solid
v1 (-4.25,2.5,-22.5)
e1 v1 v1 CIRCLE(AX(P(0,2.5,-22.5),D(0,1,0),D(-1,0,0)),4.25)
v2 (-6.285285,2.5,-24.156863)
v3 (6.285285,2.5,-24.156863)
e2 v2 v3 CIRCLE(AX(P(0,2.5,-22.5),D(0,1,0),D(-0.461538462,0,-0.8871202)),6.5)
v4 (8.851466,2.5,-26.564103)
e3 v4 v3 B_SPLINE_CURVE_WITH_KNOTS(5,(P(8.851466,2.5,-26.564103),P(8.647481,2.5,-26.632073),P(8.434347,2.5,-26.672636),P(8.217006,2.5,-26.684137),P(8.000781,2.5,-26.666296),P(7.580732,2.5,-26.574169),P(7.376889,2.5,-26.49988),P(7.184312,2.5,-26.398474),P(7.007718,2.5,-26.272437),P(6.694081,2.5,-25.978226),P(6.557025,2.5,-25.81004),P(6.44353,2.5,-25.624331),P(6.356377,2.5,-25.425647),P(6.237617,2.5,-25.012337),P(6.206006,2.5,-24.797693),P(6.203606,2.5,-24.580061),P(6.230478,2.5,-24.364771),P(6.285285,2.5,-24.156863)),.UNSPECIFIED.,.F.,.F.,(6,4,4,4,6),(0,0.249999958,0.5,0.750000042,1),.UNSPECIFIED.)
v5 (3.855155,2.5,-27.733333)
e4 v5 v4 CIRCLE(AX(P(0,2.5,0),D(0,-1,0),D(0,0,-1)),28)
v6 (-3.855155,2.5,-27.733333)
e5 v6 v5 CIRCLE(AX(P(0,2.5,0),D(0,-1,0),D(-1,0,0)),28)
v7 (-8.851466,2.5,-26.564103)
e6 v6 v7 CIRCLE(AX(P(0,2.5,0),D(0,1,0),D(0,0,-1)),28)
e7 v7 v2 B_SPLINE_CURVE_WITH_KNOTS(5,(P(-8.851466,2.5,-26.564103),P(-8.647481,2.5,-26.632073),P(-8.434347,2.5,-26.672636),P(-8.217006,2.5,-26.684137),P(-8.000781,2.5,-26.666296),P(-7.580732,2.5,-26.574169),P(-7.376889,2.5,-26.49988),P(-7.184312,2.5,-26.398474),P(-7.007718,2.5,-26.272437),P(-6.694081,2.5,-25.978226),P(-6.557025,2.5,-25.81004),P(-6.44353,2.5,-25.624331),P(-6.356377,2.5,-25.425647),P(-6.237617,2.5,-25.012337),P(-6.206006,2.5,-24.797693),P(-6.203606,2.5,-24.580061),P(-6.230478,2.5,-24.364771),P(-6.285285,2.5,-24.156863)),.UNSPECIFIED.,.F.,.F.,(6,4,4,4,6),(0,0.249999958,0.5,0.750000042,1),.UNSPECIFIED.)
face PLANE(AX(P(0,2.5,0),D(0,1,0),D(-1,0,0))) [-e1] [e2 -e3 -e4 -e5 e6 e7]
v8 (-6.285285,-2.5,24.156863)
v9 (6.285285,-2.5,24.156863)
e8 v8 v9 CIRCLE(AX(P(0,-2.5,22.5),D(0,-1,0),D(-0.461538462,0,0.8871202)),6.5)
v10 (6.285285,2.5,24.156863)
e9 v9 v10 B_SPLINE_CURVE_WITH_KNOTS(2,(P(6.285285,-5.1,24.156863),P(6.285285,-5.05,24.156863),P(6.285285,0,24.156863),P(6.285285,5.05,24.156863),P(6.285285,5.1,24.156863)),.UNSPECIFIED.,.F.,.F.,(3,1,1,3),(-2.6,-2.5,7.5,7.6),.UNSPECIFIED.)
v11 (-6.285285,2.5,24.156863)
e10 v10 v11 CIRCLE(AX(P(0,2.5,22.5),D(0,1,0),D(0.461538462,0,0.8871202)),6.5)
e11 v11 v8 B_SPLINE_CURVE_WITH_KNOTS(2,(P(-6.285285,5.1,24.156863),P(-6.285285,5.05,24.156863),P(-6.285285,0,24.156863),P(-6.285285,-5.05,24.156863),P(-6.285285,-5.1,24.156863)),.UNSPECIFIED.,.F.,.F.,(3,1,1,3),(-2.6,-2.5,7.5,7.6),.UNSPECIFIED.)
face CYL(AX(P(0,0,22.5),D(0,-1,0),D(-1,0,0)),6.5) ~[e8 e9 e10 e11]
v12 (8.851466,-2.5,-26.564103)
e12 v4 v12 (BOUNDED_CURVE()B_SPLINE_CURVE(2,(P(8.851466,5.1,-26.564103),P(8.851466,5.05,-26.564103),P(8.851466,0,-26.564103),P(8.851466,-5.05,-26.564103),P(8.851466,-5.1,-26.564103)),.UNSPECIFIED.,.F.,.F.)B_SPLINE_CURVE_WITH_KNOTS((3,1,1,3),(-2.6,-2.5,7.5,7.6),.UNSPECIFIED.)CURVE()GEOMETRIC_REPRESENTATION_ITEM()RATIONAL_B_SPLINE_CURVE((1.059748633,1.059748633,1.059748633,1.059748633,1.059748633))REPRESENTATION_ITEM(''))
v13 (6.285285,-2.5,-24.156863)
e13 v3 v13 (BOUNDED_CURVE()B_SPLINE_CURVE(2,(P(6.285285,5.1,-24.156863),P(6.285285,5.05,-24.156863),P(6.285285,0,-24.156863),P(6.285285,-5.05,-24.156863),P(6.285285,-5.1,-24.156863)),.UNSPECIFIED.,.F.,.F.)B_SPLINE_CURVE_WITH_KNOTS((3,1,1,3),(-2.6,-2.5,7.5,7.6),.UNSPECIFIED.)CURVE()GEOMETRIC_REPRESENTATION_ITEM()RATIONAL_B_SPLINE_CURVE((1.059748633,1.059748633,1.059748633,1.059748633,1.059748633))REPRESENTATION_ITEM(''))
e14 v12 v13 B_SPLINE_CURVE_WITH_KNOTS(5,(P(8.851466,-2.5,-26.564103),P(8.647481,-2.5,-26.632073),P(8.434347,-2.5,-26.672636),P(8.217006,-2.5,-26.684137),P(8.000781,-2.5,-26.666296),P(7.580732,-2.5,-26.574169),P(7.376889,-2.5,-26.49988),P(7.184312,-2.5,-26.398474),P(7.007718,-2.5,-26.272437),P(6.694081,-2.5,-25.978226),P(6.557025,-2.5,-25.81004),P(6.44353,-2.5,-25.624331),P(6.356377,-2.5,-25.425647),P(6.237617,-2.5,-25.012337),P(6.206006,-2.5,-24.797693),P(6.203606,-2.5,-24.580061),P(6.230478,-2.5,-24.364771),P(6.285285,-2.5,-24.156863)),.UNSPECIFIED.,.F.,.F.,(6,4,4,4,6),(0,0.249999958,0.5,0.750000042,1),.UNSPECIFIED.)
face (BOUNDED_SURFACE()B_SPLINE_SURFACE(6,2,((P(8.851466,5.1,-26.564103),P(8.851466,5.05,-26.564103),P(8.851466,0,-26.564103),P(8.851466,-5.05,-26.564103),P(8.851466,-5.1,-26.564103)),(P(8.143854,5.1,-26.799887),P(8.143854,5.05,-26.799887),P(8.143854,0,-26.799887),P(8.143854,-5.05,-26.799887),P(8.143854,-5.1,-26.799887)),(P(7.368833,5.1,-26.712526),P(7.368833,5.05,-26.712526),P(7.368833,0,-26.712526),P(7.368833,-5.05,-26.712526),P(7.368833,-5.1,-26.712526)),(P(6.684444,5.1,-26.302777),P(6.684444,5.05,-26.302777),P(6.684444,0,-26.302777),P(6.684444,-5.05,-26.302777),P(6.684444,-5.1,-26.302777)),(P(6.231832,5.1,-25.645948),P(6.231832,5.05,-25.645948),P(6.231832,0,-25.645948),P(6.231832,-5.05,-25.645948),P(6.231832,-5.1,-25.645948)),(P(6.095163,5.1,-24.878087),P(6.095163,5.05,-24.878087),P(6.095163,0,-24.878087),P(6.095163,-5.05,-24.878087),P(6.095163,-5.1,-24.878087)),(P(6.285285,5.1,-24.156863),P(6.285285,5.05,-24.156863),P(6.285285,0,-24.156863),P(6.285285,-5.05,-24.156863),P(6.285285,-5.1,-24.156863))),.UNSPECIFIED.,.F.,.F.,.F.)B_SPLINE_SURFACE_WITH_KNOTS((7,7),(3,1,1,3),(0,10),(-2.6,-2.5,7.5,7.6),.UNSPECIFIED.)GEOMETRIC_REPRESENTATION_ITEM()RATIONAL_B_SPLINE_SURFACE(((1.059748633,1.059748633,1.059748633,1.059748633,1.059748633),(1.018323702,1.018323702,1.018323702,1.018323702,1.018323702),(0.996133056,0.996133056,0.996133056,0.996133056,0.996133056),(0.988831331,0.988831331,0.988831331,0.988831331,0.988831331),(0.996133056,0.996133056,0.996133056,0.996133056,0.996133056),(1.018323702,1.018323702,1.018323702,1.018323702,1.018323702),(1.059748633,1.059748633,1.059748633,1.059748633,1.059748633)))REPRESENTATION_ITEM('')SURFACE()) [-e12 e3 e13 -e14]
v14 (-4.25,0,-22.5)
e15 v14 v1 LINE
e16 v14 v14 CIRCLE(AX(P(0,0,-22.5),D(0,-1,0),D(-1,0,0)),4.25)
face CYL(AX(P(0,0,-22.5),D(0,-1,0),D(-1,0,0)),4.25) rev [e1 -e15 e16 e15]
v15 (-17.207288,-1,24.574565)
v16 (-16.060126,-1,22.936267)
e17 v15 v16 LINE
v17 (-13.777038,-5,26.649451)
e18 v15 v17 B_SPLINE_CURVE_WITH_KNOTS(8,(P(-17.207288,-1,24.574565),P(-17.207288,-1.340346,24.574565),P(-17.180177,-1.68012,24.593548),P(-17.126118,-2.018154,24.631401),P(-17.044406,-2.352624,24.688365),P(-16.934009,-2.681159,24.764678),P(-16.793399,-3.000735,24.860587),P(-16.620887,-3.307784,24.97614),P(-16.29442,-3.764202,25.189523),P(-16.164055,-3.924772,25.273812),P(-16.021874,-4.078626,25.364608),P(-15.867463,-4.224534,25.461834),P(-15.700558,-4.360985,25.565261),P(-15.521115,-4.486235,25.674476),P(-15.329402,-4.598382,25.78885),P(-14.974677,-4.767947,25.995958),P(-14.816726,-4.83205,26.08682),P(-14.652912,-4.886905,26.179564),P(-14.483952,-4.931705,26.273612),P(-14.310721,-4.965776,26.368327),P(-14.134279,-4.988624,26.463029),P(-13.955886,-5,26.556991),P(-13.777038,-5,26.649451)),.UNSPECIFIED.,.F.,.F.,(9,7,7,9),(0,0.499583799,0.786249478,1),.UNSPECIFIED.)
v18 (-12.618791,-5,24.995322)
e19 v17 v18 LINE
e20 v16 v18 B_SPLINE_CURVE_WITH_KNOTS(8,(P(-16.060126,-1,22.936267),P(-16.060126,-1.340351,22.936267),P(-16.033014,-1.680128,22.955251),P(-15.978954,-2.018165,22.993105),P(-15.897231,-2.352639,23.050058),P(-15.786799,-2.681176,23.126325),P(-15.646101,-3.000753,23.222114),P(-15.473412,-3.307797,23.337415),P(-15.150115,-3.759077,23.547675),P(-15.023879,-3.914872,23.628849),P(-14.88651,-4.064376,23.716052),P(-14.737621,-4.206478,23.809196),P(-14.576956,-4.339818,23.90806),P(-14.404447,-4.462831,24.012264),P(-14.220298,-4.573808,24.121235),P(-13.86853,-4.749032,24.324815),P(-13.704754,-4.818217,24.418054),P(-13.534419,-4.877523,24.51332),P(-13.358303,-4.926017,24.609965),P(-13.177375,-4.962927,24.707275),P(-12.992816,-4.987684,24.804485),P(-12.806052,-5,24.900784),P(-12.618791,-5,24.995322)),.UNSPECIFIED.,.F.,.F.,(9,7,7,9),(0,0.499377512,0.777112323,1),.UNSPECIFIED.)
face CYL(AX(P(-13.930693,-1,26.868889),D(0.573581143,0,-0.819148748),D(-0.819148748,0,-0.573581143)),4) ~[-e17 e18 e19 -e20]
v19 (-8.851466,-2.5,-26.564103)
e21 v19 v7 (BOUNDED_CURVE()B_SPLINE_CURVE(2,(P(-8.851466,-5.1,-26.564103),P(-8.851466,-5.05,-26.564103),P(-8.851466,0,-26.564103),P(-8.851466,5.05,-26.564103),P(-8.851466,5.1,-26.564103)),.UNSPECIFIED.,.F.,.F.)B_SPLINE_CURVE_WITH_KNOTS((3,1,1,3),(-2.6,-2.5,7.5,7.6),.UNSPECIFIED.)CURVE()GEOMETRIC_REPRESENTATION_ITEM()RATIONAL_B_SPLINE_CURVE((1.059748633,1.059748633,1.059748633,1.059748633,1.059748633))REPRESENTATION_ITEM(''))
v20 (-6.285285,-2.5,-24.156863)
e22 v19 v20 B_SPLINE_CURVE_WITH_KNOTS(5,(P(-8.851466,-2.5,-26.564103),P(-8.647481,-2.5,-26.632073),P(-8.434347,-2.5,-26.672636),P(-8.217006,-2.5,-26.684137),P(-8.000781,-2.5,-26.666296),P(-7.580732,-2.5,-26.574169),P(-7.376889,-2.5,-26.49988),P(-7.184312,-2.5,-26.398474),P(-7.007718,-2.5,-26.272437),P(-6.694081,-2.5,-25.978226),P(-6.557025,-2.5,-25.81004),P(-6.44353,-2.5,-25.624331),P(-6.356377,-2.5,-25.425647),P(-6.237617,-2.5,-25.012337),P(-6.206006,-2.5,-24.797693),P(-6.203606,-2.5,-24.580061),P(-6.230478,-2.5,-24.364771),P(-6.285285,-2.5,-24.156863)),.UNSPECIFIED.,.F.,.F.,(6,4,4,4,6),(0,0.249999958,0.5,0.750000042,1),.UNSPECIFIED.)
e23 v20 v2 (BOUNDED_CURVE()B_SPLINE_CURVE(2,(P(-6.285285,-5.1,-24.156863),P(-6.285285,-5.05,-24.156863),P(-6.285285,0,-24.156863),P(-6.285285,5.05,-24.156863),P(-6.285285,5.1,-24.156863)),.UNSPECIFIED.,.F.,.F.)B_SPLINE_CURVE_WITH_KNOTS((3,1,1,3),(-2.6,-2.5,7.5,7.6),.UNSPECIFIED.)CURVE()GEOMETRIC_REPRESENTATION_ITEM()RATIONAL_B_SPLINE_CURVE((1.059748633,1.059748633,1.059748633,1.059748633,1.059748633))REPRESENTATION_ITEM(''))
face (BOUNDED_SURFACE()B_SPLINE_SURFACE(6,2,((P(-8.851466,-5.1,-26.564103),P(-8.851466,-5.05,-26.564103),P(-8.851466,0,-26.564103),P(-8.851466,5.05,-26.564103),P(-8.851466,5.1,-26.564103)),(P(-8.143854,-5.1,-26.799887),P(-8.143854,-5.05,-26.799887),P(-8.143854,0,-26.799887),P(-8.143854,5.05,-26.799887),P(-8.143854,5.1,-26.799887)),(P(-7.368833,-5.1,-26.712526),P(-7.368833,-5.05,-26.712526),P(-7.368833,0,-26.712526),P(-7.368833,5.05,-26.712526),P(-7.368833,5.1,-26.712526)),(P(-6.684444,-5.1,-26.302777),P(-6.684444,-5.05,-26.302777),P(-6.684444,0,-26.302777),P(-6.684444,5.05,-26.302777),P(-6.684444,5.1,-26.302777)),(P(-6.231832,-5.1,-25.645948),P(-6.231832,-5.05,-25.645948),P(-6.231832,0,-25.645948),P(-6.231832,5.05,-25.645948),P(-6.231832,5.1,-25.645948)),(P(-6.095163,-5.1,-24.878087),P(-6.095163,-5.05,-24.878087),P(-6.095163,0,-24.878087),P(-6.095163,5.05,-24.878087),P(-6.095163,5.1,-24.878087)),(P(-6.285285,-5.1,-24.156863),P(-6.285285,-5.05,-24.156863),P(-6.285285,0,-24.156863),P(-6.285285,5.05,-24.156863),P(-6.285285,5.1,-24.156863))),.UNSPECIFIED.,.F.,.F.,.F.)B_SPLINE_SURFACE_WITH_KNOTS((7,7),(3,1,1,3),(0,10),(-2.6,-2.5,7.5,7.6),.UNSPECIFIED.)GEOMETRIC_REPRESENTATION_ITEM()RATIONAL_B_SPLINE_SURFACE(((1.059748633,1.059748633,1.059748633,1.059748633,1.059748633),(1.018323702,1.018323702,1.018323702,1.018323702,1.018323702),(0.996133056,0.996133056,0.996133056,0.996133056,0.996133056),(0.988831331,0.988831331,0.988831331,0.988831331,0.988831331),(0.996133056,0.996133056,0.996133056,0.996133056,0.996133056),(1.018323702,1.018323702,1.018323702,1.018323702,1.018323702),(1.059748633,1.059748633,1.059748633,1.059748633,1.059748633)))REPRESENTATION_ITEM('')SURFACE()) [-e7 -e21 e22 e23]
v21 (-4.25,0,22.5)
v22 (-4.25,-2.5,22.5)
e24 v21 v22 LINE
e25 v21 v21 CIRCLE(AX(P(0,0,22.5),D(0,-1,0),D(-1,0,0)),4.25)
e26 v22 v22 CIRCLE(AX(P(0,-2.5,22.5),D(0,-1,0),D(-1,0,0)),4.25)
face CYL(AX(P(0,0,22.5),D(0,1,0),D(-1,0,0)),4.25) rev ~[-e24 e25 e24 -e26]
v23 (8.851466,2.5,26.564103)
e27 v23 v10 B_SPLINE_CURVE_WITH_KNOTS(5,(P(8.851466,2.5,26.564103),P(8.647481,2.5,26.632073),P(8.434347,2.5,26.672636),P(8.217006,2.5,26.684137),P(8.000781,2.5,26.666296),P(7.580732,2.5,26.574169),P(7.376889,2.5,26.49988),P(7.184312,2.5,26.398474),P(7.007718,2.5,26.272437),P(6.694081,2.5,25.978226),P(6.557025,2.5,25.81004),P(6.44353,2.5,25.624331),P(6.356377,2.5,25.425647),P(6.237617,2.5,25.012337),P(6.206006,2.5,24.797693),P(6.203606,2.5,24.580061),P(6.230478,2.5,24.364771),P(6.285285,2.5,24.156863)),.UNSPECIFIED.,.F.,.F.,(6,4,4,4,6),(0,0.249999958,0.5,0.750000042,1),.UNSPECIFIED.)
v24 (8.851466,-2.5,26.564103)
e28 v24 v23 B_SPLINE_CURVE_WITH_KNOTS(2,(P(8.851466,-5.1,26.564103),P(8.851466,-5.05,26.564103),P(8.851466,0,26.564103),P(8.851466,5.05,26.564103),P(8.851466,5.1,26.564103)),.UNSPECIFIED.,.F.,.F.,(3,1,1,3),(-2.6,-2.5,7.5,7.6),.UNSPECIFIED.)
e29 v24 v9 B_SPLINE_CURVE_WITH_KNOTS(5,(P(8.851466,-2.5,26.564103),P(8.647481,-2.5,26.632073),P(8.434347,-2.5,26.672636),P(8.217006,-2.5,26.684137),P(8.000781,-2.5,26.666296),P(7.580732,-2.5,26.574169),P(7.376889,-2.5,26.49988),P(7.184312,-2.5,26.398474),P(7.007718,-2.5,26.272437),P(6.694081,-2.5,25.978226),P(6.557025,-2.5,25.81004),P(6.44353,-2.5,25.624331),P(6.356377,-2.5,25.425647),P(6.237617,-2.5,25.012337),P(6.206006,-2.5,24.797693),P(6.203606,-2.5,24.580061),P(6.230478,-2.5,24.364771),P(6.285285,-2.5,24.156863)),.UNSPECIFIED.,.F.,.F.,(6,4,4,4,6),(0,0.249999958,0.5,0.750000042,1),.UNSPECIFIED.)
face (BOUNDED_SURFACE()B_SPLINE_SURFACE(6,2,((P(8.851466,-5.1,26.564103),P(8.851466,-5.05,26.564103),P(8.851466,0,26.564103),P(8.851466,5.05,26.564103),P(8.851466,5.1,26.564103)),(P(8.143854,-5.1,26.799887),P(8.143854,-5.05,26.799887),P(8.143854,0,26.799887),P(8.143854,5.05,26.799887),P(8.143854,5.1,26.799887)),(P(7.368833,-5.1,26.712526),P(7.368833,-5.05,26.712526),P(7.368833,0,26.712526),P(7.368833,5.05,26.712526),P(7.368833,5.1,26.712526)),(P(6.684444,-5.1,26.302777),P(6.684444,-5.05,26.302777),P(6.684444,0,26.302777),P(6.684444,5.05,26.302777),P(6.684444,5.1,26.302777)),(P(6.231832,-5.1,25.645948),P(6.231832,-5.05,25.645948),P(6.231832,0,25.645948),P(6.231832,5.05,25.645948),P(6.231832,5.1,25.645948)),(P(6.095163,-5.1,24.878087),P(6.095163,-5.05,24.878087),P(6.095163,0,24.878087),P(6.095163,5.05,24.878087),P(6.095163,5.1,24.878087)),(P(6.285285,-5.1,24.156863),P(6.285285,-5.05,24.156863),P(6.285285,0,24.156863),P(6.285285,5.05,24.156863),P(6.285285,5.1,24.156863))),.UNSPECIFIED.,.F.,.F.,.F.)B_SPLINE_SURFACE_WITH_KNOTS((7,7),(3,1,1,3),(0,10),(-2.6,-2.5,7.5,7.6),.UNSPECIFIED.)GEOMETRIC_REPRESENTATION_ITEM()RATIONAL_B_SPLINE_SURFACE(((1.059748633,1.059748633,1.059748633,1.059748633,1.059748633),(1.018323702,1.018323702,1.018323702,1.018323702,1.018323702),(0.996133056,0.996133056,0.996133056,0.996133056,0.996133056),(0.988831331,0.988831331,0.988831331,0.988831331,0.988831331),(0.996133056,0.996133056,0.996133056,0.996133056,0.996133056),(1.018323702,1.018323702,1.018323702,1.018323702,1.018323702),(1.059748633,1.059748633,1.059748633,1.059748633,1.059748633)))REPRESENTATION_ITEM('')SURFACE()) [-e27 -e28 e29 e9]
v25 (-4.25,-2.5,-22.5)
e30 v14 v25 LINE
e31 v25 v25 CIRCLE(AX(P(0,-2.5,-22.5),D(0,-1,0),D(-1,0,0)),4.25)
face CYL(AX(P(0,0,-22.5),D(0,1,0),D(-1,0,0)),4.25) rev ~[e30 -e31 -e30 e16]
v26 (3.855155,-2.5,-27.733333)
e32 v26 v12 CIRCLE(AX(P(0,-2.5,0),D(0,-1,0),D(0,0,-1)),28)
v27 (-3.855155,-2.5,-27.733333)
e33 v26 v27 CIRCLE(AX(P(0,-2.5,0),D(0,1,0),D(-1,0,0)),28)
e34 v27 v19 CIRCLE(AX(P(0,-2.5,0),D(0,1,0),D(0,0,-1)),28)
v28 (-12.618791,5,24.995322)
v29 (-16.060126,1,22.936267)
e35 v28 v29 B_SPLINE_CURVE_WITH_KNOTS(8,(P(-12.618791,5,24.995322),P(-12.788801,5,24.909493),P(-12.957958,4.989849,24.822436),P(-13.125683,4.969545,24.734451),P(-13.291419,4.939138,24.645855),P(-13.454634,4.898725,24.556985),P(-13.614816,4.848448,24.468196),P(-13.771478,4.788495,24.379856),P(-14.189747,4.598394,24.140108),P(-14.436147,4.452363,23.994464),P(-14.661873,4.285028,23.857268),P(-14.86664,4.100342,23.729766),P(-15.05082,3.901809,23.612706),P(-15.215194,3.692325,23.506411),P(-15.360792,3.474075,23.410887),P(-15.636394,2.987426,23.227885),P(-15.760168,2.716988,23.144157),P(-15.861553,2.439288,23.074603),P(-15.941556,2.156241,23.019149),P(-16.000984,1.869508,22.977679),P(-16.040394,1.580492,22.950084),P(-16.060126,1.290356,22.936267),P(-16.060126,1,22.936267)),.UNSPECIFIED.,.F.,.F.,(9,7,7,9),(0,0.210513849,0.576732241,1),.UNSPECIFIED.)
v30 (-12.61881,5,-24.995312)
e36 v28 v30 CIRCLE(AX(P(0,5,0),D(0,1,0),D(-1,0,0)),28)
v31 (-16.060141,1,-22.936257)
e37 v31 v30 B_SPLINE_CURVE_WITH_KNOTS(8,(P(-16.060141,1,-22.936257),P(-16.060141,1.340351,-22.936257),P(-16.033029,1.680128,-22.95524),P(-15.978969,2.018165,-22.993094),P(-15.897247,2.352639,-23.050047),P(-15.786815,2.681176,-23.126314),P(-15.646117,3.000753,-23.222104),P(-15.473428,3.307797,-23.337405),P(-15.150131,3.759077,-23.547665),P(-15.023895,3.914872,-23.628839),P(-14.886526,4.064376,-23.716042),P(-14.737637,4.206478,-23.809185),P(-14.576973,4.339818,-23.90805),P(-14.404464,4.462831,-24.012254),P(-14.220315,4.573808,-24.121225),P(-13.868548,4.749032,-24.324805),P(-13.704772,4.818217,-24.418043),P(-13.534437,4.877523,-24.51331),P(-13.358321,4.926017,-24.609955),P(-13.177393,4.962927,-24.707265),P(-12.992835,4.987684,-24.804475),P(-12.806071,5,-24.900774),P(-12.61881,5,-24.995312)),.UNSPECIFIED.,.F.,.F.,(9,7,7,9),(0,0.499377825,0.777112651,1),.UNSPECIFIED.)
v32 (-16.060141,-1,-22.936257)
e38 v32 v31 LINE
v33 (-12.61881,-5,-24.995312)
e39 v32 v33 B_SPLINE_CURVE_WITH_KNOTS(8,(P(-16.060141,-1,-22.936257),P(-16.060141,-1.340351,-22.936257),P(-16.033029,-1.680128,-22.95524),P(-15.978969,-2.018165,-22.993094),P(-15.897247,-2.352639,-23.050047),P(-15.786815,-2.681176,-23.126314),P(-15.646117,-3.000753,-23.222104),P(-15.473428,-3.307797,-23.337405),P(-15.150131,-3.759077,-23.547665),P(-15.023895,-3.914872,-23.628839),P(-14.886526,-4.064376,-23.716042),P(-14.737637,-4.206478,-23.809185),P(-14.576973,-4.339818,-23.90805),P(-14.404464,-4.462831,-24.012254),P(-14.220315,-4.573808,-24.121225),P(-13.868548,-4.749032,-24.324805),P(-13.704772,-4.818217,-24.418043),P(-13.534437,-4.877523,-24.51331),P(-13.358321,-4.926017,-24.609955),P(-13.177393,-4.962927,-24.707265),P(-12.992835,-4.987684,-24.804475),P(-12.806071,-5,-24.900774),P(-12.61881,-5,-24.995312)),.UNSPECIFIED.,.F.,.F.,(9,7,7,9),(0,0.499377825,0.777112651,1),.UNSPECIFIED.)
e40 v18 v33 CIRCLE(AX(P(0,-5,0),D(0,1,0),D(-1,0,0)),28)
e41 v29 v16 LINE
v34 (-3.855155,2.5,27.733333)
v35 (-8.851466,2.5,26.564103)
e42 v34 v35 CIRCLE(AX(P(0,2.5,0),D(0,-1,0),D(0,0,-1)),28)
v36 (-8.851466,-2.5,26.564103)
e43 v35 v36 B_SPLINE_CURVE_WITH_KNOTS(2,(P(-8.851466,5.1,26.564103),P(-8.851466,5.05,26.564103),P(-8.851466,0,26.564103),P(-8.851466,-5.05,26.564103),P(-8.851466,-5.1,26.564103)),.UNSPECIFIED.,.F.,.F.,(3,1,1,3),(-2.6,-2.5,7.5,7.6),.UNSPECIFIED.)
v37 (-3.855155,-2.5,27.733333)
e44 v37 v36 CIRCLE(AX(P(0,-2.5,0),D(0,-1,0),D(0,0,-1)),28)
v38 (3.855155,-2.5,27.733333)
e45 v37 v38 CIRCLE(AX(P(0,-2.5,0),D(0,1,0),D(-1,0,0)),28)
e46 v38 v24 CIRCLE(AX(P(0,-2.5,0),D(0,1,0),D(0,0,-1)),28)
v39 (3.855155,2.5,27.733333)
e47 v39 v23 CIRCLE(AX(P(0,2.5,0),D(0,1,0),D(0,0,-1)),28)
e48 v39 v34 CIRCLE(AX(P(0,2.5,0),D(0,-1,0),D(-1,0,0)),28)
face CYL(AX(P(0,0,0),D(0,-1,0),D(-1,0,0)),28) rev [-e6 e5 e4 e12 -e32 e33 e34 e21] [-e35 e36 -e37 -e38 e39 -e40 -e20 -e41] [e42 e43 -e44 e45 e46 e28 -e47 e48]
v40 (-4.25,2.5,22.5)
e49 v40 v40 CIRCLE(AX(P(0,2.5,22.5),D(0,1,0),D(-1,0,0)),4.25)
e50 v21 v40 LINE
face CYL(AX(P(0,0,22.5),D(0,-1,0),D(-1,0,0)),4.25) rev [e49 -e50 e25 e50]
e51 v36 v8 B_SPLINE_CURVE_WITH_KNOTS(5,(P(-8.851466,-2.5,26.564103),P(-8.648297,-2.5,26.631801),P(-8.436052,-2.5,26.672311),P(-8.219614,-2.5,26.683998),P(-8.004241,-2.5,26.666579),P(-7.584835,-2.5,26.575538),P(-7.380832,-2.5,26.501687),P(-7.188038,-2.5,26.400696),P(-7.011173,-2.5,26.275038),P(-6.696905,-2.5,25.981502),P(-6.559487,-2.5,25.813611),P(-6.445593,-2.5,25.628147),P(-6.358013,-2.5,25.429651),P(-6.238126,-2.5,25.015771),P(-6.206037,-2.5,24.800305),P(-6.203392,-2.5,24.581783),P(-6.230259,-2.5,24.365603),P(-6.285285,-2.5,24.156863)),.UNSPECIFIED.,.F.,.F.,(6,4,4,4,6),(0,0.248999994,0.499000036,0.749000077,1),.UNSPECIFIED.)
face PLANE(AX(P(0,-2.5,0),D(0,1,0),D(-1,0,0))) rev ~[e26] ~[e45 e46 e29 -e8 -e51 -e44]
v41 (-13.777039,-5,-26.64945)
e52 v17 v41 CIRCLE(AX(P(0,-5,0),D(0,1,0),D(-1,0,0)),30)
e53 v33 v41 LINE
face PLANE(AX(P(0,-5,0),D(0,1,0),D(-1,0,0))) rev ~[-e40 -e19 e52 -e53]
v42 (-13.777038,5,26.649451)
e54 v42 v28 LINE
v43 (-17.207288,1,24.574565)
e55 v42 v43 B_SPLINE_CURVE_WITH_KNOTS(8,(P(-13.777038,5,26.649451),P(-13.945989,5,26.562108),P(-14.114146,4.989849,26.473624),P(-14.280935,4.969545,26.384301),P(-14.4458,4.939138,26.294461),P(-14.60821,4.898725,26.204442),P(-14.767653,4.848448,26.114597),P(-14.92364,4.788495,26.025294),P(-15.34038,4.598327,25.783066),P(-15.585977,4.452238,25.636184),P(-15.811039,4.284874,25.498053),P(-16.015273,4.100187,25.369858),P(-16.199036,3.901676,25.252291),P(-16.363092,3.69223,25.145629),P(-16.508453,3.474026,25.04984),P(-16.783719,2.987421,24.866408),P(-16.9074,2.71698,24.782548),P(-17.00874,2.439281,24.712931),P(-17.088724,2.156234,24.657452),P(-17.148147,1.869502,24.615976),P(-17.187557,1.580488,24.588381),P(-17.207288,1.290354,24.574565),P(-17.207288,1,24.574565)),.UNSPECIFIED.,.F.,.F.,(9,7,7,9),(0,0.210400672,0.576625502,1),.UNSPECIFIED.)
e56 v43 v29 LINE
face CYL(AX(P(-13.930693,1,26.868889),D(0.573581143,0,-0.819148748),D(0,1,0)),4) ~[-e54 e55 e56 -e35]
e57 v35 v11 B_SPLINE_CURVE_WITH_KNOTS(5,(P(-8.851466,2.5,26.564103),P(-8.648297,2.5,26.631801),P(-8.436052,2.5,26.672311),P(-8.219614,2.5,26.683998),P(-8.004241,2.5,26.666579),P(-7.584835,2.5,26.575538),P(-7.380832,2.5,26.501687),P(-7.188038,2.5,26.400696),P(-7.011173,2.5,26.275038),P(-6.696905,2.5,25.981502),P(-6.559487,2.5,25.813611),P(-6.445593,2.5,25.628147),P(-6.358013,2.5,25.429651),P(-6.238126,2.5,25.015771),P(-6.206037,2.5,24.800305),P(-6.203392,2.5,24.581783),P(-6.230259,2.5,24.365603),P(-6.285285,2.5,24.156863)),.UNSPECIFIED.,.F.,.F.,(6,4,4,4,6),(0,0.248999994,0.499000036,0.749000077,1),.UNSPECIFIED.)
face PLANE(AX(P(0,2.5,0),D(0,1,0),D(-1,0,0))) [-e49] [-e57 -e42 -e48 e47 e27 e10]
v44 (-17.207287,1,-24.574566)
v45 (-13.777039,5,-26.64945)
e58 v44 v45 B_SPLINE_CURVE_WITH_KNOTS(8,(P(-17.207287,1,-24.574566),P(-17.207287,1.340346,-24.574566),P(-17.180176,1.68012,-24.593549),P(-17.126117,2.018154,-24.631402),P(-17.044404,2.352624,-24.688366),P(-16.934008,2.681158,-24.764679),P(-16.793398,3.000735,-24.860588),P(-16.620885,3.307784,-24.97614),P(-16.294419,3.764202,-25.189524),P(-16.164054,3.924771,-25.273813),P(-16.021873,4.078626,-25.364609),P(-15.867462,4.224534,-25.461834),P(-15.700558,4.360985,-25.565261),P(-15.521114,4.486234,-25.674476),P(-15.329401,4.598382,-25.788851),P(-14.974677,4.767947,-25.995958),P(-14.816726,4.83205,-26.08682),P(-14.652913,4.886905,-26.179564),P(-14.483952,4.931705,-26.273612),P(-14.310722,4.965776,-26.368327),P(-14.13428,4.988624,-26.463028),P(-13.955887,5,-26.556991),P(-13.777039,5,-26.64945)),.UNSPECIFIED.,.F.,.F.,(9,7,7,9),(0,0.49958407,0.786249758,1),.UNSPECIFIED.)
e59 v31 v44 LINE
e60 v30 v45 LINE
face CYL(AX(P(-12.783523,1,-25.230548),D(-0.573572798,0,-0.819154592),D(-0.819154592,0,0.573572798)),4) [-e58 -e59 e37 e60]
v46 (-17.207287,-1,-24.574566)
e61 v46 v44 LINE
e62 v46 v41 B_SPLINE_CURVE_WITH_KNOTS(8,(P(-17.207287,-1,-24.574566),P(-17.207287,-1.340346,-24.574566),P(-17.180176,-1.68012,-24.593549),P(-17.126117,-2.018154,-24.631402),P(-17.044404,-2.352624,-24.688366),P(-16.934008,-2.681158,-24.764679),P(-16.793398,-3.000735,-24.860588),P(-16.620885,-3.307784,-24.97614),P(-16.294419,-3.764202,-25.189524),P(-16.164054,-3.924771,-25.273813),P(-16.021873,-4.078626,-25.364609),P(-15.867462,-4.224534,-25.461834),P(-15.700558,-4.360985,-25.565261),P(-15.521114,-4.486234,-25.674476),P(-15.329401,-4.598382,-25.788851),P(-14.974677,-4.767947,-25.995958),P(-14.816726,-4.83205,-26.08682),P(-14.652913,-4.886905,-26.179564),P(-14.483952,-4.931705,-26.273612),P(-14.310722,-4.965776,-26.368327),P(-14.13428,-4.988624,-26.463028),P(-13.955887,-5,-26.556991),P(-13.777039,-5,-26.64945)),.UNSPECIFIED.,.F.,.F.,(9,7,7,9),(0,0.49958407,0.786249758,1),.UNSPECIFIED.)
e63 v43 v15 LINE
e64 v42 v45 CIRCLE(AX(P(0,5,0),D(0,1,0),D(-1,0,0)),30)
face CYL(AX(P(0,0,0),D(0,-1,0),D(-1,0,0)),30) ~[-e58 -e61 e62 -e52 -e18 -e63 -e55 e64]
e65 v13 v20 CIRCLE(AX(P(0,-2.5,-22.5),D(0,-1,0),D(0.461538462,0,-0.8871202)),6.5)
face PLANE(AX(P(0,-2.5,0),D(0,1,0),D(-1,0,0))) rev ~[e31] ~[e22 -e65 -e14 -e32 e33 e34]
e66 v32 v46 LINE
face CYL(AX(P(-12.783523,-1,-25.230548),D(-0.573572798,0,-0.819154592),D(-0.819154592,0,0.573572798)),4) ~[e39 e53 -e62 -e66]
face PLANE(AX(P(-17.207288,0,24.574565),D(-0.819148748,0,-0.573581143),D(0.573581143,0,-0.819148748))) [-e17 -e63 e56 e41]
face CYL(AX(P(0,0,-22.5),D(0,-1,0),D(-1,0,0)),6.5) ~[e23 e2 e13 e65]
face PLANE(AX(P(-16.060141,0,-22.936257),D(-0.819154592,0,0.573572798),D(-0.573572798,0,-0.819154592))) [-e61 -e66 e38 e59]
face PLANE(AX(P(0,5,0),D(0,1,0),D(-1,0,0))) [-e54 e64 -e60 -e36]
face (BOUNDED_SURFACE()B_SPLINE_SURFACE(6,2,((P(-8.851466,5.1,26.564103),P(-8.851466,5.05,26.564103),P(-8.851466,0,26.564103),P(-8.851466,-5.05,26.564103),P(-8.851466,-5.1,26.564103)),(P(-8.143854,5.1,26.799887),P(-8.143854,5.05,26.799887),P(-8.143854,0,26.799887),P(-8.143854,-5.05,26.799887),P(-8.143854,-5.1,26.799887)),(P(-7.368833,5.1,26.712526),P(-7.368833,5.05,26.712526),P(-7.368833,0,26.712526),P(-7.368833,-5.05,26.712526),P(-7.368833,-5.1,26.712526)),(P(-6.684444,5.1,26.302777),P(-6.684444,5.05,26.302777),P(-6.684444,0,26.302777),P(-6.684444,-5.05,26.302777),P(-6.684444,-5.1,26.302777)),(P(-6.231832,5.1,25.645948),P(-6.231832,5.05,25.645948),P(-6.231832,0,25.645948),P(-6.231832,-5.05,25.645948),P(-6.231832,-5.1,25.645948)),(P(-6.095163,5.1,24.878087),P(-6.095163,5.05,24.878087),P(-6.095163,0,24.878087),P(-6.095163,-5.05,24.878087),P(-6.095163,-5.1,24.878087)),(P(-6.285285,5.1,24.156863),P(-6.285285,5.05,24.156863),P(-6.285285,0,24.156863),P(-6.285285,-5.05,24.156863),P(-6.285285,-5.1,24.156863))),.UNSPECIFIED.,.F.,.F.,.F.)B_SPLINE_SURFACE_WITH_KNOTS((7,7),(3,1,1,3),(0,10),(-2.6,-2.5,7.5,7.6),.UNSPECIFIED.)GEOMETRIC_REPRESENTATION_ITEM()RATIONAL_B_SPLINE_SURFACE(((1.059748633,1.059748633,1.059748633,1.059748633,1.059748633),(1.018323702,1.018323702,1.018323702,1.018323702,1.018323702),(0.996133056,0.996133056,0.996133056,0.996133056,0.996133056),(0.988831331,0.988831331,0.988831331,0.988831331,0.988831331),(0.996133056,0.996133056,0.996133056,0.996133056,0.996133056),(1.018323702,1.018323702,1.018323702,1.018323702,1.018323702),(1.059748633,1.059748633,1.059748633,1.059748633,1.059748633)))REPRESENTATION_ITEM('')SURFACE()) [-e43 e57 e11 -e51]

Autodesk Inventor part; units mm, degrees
ref_plane "YZ Plane" through (0, 0, 0) normal (1, 0, 0) x (0, 1, 0)
ref_plane "XZ Plane" through (0, 0, 0) normal (0, 1, 0) x (-1, 0, 0)
ref_plane "XY Plane" through (0, 0, 0) normal (0, 0, 1) x (1, 0, 0)
sketch "Skizze1" plane through (0, 0, 0) normal (0, 1, 0) x (-1, 0, 0)
  circle A0 centre (0, 0) radius 28
  circle A1 centre (0, 0) radius 30
  dimension "d0" = 56
  dimension "d1" = 60
extrude "Extrusion1" add sketch "Skizze1" along normal mid plane 10
sketch "Skizze2" plane through (0, 0, 0) normal (0, 1, 0) x (-1, 0, 0)
  circle A0 centre (0, 22.5) radius 4.25
  circle A1 centre (0, -22.5) radius 4.25
  line L0 (44.9262, 0) -> (-43.1306, 0) construction
  circle A2 centre (0, -22.5) radius 6.5
  circle A3 centre (0, 22.5) radius 6.5
  line L1 (0, 38.6377) -> (0, -60.2779) construction
  line L2 (3, 29.5) -> (-3, 29.5)
  line L3 (-3, 29.5) -> (-3, -29.5)
  line L4 (-3, -29.5) -> (3, -29.5)
  line L5 (3, -29.5) -> (3, 29.5)
  point P0 (0, 0)
  point P1 (-3, 28.2663)
  point P2 (3, 28.2663)
  point P3 (-3, -28.2663)
  point P4 (3, -28.2663)
  dimension "d4" = 45
  dimension "d5" = 8.5
  dimension "d6" = 8.5
  dimension "d7" = 13
  dimension "d8" = 13
  dimension "d9" = 6
  dimension "d21" = 59
extrude "Extrusion2" add sketch "Skizze2" along normal mid plane 5 contours A0 L5 A3 | A0 L3 A3 L5 | L5 A3 L3 A0 | A0 L3 A3 | A3 L3 L2 L5 | L5 A1 L3 A2 | A2 L5 A1 | L3 A1 A2 | L3 A1 L5 A2 | A2 L5 L4 L3
sketch "Skizze3" plane through (0, 0, 0) normal (0, 1, 0) x (-1, 0, 0)
  line L0 (-37.328, 53.3099) -> (47.5678, -67.9338) construction
  line L1 (48.5469, 69.3321) -> (-29.5635, -42.2211) construction
  line L2 (0, 56.0595) -> (0, -79.5026) construction
  circle A0 centre (0, 0) radius 30
  circle A1 centre (0, 0) radius 28
  line L3 (19.8236, 28.311) -> (13.732, 19.6114)
  line L4 (14.4871, -20.6897) -> (22.3283, -31.8882)
  point P0 (16.0601, -22.9363)
  point P1 (17.2073, -24.5746)
  point P2 (17.2073, 24.5746)
  point P3 (16.0601, 22.9363)
  dimension "d12" = 110
  dimension "d13" = 35
  dimension "d19" = 56
  dimension "d20" = 60
extrude "Extrusion3" cut sketch "Skizze3" along normal mid plane 10 contours A0 L4 A1 L3 picked at (29.0468, 2.3769)
fillet "Rundung1" radius 4 4 edges at (-16.6337, -5, -23.7554) (-16.6337, 5, -23.7554) (-16.6337, 5, 23.7554) (-16.6337, -5, 23.7554)
fillet "Rundung2" radius 2 4 edges at (3.8552, 0, -27.7333) (-3.8552, 0, -27.7333) (-3.8552, 0, 27.7333) (3.8552, 0, 27.7333)
properties part number "_3D-Druck"
